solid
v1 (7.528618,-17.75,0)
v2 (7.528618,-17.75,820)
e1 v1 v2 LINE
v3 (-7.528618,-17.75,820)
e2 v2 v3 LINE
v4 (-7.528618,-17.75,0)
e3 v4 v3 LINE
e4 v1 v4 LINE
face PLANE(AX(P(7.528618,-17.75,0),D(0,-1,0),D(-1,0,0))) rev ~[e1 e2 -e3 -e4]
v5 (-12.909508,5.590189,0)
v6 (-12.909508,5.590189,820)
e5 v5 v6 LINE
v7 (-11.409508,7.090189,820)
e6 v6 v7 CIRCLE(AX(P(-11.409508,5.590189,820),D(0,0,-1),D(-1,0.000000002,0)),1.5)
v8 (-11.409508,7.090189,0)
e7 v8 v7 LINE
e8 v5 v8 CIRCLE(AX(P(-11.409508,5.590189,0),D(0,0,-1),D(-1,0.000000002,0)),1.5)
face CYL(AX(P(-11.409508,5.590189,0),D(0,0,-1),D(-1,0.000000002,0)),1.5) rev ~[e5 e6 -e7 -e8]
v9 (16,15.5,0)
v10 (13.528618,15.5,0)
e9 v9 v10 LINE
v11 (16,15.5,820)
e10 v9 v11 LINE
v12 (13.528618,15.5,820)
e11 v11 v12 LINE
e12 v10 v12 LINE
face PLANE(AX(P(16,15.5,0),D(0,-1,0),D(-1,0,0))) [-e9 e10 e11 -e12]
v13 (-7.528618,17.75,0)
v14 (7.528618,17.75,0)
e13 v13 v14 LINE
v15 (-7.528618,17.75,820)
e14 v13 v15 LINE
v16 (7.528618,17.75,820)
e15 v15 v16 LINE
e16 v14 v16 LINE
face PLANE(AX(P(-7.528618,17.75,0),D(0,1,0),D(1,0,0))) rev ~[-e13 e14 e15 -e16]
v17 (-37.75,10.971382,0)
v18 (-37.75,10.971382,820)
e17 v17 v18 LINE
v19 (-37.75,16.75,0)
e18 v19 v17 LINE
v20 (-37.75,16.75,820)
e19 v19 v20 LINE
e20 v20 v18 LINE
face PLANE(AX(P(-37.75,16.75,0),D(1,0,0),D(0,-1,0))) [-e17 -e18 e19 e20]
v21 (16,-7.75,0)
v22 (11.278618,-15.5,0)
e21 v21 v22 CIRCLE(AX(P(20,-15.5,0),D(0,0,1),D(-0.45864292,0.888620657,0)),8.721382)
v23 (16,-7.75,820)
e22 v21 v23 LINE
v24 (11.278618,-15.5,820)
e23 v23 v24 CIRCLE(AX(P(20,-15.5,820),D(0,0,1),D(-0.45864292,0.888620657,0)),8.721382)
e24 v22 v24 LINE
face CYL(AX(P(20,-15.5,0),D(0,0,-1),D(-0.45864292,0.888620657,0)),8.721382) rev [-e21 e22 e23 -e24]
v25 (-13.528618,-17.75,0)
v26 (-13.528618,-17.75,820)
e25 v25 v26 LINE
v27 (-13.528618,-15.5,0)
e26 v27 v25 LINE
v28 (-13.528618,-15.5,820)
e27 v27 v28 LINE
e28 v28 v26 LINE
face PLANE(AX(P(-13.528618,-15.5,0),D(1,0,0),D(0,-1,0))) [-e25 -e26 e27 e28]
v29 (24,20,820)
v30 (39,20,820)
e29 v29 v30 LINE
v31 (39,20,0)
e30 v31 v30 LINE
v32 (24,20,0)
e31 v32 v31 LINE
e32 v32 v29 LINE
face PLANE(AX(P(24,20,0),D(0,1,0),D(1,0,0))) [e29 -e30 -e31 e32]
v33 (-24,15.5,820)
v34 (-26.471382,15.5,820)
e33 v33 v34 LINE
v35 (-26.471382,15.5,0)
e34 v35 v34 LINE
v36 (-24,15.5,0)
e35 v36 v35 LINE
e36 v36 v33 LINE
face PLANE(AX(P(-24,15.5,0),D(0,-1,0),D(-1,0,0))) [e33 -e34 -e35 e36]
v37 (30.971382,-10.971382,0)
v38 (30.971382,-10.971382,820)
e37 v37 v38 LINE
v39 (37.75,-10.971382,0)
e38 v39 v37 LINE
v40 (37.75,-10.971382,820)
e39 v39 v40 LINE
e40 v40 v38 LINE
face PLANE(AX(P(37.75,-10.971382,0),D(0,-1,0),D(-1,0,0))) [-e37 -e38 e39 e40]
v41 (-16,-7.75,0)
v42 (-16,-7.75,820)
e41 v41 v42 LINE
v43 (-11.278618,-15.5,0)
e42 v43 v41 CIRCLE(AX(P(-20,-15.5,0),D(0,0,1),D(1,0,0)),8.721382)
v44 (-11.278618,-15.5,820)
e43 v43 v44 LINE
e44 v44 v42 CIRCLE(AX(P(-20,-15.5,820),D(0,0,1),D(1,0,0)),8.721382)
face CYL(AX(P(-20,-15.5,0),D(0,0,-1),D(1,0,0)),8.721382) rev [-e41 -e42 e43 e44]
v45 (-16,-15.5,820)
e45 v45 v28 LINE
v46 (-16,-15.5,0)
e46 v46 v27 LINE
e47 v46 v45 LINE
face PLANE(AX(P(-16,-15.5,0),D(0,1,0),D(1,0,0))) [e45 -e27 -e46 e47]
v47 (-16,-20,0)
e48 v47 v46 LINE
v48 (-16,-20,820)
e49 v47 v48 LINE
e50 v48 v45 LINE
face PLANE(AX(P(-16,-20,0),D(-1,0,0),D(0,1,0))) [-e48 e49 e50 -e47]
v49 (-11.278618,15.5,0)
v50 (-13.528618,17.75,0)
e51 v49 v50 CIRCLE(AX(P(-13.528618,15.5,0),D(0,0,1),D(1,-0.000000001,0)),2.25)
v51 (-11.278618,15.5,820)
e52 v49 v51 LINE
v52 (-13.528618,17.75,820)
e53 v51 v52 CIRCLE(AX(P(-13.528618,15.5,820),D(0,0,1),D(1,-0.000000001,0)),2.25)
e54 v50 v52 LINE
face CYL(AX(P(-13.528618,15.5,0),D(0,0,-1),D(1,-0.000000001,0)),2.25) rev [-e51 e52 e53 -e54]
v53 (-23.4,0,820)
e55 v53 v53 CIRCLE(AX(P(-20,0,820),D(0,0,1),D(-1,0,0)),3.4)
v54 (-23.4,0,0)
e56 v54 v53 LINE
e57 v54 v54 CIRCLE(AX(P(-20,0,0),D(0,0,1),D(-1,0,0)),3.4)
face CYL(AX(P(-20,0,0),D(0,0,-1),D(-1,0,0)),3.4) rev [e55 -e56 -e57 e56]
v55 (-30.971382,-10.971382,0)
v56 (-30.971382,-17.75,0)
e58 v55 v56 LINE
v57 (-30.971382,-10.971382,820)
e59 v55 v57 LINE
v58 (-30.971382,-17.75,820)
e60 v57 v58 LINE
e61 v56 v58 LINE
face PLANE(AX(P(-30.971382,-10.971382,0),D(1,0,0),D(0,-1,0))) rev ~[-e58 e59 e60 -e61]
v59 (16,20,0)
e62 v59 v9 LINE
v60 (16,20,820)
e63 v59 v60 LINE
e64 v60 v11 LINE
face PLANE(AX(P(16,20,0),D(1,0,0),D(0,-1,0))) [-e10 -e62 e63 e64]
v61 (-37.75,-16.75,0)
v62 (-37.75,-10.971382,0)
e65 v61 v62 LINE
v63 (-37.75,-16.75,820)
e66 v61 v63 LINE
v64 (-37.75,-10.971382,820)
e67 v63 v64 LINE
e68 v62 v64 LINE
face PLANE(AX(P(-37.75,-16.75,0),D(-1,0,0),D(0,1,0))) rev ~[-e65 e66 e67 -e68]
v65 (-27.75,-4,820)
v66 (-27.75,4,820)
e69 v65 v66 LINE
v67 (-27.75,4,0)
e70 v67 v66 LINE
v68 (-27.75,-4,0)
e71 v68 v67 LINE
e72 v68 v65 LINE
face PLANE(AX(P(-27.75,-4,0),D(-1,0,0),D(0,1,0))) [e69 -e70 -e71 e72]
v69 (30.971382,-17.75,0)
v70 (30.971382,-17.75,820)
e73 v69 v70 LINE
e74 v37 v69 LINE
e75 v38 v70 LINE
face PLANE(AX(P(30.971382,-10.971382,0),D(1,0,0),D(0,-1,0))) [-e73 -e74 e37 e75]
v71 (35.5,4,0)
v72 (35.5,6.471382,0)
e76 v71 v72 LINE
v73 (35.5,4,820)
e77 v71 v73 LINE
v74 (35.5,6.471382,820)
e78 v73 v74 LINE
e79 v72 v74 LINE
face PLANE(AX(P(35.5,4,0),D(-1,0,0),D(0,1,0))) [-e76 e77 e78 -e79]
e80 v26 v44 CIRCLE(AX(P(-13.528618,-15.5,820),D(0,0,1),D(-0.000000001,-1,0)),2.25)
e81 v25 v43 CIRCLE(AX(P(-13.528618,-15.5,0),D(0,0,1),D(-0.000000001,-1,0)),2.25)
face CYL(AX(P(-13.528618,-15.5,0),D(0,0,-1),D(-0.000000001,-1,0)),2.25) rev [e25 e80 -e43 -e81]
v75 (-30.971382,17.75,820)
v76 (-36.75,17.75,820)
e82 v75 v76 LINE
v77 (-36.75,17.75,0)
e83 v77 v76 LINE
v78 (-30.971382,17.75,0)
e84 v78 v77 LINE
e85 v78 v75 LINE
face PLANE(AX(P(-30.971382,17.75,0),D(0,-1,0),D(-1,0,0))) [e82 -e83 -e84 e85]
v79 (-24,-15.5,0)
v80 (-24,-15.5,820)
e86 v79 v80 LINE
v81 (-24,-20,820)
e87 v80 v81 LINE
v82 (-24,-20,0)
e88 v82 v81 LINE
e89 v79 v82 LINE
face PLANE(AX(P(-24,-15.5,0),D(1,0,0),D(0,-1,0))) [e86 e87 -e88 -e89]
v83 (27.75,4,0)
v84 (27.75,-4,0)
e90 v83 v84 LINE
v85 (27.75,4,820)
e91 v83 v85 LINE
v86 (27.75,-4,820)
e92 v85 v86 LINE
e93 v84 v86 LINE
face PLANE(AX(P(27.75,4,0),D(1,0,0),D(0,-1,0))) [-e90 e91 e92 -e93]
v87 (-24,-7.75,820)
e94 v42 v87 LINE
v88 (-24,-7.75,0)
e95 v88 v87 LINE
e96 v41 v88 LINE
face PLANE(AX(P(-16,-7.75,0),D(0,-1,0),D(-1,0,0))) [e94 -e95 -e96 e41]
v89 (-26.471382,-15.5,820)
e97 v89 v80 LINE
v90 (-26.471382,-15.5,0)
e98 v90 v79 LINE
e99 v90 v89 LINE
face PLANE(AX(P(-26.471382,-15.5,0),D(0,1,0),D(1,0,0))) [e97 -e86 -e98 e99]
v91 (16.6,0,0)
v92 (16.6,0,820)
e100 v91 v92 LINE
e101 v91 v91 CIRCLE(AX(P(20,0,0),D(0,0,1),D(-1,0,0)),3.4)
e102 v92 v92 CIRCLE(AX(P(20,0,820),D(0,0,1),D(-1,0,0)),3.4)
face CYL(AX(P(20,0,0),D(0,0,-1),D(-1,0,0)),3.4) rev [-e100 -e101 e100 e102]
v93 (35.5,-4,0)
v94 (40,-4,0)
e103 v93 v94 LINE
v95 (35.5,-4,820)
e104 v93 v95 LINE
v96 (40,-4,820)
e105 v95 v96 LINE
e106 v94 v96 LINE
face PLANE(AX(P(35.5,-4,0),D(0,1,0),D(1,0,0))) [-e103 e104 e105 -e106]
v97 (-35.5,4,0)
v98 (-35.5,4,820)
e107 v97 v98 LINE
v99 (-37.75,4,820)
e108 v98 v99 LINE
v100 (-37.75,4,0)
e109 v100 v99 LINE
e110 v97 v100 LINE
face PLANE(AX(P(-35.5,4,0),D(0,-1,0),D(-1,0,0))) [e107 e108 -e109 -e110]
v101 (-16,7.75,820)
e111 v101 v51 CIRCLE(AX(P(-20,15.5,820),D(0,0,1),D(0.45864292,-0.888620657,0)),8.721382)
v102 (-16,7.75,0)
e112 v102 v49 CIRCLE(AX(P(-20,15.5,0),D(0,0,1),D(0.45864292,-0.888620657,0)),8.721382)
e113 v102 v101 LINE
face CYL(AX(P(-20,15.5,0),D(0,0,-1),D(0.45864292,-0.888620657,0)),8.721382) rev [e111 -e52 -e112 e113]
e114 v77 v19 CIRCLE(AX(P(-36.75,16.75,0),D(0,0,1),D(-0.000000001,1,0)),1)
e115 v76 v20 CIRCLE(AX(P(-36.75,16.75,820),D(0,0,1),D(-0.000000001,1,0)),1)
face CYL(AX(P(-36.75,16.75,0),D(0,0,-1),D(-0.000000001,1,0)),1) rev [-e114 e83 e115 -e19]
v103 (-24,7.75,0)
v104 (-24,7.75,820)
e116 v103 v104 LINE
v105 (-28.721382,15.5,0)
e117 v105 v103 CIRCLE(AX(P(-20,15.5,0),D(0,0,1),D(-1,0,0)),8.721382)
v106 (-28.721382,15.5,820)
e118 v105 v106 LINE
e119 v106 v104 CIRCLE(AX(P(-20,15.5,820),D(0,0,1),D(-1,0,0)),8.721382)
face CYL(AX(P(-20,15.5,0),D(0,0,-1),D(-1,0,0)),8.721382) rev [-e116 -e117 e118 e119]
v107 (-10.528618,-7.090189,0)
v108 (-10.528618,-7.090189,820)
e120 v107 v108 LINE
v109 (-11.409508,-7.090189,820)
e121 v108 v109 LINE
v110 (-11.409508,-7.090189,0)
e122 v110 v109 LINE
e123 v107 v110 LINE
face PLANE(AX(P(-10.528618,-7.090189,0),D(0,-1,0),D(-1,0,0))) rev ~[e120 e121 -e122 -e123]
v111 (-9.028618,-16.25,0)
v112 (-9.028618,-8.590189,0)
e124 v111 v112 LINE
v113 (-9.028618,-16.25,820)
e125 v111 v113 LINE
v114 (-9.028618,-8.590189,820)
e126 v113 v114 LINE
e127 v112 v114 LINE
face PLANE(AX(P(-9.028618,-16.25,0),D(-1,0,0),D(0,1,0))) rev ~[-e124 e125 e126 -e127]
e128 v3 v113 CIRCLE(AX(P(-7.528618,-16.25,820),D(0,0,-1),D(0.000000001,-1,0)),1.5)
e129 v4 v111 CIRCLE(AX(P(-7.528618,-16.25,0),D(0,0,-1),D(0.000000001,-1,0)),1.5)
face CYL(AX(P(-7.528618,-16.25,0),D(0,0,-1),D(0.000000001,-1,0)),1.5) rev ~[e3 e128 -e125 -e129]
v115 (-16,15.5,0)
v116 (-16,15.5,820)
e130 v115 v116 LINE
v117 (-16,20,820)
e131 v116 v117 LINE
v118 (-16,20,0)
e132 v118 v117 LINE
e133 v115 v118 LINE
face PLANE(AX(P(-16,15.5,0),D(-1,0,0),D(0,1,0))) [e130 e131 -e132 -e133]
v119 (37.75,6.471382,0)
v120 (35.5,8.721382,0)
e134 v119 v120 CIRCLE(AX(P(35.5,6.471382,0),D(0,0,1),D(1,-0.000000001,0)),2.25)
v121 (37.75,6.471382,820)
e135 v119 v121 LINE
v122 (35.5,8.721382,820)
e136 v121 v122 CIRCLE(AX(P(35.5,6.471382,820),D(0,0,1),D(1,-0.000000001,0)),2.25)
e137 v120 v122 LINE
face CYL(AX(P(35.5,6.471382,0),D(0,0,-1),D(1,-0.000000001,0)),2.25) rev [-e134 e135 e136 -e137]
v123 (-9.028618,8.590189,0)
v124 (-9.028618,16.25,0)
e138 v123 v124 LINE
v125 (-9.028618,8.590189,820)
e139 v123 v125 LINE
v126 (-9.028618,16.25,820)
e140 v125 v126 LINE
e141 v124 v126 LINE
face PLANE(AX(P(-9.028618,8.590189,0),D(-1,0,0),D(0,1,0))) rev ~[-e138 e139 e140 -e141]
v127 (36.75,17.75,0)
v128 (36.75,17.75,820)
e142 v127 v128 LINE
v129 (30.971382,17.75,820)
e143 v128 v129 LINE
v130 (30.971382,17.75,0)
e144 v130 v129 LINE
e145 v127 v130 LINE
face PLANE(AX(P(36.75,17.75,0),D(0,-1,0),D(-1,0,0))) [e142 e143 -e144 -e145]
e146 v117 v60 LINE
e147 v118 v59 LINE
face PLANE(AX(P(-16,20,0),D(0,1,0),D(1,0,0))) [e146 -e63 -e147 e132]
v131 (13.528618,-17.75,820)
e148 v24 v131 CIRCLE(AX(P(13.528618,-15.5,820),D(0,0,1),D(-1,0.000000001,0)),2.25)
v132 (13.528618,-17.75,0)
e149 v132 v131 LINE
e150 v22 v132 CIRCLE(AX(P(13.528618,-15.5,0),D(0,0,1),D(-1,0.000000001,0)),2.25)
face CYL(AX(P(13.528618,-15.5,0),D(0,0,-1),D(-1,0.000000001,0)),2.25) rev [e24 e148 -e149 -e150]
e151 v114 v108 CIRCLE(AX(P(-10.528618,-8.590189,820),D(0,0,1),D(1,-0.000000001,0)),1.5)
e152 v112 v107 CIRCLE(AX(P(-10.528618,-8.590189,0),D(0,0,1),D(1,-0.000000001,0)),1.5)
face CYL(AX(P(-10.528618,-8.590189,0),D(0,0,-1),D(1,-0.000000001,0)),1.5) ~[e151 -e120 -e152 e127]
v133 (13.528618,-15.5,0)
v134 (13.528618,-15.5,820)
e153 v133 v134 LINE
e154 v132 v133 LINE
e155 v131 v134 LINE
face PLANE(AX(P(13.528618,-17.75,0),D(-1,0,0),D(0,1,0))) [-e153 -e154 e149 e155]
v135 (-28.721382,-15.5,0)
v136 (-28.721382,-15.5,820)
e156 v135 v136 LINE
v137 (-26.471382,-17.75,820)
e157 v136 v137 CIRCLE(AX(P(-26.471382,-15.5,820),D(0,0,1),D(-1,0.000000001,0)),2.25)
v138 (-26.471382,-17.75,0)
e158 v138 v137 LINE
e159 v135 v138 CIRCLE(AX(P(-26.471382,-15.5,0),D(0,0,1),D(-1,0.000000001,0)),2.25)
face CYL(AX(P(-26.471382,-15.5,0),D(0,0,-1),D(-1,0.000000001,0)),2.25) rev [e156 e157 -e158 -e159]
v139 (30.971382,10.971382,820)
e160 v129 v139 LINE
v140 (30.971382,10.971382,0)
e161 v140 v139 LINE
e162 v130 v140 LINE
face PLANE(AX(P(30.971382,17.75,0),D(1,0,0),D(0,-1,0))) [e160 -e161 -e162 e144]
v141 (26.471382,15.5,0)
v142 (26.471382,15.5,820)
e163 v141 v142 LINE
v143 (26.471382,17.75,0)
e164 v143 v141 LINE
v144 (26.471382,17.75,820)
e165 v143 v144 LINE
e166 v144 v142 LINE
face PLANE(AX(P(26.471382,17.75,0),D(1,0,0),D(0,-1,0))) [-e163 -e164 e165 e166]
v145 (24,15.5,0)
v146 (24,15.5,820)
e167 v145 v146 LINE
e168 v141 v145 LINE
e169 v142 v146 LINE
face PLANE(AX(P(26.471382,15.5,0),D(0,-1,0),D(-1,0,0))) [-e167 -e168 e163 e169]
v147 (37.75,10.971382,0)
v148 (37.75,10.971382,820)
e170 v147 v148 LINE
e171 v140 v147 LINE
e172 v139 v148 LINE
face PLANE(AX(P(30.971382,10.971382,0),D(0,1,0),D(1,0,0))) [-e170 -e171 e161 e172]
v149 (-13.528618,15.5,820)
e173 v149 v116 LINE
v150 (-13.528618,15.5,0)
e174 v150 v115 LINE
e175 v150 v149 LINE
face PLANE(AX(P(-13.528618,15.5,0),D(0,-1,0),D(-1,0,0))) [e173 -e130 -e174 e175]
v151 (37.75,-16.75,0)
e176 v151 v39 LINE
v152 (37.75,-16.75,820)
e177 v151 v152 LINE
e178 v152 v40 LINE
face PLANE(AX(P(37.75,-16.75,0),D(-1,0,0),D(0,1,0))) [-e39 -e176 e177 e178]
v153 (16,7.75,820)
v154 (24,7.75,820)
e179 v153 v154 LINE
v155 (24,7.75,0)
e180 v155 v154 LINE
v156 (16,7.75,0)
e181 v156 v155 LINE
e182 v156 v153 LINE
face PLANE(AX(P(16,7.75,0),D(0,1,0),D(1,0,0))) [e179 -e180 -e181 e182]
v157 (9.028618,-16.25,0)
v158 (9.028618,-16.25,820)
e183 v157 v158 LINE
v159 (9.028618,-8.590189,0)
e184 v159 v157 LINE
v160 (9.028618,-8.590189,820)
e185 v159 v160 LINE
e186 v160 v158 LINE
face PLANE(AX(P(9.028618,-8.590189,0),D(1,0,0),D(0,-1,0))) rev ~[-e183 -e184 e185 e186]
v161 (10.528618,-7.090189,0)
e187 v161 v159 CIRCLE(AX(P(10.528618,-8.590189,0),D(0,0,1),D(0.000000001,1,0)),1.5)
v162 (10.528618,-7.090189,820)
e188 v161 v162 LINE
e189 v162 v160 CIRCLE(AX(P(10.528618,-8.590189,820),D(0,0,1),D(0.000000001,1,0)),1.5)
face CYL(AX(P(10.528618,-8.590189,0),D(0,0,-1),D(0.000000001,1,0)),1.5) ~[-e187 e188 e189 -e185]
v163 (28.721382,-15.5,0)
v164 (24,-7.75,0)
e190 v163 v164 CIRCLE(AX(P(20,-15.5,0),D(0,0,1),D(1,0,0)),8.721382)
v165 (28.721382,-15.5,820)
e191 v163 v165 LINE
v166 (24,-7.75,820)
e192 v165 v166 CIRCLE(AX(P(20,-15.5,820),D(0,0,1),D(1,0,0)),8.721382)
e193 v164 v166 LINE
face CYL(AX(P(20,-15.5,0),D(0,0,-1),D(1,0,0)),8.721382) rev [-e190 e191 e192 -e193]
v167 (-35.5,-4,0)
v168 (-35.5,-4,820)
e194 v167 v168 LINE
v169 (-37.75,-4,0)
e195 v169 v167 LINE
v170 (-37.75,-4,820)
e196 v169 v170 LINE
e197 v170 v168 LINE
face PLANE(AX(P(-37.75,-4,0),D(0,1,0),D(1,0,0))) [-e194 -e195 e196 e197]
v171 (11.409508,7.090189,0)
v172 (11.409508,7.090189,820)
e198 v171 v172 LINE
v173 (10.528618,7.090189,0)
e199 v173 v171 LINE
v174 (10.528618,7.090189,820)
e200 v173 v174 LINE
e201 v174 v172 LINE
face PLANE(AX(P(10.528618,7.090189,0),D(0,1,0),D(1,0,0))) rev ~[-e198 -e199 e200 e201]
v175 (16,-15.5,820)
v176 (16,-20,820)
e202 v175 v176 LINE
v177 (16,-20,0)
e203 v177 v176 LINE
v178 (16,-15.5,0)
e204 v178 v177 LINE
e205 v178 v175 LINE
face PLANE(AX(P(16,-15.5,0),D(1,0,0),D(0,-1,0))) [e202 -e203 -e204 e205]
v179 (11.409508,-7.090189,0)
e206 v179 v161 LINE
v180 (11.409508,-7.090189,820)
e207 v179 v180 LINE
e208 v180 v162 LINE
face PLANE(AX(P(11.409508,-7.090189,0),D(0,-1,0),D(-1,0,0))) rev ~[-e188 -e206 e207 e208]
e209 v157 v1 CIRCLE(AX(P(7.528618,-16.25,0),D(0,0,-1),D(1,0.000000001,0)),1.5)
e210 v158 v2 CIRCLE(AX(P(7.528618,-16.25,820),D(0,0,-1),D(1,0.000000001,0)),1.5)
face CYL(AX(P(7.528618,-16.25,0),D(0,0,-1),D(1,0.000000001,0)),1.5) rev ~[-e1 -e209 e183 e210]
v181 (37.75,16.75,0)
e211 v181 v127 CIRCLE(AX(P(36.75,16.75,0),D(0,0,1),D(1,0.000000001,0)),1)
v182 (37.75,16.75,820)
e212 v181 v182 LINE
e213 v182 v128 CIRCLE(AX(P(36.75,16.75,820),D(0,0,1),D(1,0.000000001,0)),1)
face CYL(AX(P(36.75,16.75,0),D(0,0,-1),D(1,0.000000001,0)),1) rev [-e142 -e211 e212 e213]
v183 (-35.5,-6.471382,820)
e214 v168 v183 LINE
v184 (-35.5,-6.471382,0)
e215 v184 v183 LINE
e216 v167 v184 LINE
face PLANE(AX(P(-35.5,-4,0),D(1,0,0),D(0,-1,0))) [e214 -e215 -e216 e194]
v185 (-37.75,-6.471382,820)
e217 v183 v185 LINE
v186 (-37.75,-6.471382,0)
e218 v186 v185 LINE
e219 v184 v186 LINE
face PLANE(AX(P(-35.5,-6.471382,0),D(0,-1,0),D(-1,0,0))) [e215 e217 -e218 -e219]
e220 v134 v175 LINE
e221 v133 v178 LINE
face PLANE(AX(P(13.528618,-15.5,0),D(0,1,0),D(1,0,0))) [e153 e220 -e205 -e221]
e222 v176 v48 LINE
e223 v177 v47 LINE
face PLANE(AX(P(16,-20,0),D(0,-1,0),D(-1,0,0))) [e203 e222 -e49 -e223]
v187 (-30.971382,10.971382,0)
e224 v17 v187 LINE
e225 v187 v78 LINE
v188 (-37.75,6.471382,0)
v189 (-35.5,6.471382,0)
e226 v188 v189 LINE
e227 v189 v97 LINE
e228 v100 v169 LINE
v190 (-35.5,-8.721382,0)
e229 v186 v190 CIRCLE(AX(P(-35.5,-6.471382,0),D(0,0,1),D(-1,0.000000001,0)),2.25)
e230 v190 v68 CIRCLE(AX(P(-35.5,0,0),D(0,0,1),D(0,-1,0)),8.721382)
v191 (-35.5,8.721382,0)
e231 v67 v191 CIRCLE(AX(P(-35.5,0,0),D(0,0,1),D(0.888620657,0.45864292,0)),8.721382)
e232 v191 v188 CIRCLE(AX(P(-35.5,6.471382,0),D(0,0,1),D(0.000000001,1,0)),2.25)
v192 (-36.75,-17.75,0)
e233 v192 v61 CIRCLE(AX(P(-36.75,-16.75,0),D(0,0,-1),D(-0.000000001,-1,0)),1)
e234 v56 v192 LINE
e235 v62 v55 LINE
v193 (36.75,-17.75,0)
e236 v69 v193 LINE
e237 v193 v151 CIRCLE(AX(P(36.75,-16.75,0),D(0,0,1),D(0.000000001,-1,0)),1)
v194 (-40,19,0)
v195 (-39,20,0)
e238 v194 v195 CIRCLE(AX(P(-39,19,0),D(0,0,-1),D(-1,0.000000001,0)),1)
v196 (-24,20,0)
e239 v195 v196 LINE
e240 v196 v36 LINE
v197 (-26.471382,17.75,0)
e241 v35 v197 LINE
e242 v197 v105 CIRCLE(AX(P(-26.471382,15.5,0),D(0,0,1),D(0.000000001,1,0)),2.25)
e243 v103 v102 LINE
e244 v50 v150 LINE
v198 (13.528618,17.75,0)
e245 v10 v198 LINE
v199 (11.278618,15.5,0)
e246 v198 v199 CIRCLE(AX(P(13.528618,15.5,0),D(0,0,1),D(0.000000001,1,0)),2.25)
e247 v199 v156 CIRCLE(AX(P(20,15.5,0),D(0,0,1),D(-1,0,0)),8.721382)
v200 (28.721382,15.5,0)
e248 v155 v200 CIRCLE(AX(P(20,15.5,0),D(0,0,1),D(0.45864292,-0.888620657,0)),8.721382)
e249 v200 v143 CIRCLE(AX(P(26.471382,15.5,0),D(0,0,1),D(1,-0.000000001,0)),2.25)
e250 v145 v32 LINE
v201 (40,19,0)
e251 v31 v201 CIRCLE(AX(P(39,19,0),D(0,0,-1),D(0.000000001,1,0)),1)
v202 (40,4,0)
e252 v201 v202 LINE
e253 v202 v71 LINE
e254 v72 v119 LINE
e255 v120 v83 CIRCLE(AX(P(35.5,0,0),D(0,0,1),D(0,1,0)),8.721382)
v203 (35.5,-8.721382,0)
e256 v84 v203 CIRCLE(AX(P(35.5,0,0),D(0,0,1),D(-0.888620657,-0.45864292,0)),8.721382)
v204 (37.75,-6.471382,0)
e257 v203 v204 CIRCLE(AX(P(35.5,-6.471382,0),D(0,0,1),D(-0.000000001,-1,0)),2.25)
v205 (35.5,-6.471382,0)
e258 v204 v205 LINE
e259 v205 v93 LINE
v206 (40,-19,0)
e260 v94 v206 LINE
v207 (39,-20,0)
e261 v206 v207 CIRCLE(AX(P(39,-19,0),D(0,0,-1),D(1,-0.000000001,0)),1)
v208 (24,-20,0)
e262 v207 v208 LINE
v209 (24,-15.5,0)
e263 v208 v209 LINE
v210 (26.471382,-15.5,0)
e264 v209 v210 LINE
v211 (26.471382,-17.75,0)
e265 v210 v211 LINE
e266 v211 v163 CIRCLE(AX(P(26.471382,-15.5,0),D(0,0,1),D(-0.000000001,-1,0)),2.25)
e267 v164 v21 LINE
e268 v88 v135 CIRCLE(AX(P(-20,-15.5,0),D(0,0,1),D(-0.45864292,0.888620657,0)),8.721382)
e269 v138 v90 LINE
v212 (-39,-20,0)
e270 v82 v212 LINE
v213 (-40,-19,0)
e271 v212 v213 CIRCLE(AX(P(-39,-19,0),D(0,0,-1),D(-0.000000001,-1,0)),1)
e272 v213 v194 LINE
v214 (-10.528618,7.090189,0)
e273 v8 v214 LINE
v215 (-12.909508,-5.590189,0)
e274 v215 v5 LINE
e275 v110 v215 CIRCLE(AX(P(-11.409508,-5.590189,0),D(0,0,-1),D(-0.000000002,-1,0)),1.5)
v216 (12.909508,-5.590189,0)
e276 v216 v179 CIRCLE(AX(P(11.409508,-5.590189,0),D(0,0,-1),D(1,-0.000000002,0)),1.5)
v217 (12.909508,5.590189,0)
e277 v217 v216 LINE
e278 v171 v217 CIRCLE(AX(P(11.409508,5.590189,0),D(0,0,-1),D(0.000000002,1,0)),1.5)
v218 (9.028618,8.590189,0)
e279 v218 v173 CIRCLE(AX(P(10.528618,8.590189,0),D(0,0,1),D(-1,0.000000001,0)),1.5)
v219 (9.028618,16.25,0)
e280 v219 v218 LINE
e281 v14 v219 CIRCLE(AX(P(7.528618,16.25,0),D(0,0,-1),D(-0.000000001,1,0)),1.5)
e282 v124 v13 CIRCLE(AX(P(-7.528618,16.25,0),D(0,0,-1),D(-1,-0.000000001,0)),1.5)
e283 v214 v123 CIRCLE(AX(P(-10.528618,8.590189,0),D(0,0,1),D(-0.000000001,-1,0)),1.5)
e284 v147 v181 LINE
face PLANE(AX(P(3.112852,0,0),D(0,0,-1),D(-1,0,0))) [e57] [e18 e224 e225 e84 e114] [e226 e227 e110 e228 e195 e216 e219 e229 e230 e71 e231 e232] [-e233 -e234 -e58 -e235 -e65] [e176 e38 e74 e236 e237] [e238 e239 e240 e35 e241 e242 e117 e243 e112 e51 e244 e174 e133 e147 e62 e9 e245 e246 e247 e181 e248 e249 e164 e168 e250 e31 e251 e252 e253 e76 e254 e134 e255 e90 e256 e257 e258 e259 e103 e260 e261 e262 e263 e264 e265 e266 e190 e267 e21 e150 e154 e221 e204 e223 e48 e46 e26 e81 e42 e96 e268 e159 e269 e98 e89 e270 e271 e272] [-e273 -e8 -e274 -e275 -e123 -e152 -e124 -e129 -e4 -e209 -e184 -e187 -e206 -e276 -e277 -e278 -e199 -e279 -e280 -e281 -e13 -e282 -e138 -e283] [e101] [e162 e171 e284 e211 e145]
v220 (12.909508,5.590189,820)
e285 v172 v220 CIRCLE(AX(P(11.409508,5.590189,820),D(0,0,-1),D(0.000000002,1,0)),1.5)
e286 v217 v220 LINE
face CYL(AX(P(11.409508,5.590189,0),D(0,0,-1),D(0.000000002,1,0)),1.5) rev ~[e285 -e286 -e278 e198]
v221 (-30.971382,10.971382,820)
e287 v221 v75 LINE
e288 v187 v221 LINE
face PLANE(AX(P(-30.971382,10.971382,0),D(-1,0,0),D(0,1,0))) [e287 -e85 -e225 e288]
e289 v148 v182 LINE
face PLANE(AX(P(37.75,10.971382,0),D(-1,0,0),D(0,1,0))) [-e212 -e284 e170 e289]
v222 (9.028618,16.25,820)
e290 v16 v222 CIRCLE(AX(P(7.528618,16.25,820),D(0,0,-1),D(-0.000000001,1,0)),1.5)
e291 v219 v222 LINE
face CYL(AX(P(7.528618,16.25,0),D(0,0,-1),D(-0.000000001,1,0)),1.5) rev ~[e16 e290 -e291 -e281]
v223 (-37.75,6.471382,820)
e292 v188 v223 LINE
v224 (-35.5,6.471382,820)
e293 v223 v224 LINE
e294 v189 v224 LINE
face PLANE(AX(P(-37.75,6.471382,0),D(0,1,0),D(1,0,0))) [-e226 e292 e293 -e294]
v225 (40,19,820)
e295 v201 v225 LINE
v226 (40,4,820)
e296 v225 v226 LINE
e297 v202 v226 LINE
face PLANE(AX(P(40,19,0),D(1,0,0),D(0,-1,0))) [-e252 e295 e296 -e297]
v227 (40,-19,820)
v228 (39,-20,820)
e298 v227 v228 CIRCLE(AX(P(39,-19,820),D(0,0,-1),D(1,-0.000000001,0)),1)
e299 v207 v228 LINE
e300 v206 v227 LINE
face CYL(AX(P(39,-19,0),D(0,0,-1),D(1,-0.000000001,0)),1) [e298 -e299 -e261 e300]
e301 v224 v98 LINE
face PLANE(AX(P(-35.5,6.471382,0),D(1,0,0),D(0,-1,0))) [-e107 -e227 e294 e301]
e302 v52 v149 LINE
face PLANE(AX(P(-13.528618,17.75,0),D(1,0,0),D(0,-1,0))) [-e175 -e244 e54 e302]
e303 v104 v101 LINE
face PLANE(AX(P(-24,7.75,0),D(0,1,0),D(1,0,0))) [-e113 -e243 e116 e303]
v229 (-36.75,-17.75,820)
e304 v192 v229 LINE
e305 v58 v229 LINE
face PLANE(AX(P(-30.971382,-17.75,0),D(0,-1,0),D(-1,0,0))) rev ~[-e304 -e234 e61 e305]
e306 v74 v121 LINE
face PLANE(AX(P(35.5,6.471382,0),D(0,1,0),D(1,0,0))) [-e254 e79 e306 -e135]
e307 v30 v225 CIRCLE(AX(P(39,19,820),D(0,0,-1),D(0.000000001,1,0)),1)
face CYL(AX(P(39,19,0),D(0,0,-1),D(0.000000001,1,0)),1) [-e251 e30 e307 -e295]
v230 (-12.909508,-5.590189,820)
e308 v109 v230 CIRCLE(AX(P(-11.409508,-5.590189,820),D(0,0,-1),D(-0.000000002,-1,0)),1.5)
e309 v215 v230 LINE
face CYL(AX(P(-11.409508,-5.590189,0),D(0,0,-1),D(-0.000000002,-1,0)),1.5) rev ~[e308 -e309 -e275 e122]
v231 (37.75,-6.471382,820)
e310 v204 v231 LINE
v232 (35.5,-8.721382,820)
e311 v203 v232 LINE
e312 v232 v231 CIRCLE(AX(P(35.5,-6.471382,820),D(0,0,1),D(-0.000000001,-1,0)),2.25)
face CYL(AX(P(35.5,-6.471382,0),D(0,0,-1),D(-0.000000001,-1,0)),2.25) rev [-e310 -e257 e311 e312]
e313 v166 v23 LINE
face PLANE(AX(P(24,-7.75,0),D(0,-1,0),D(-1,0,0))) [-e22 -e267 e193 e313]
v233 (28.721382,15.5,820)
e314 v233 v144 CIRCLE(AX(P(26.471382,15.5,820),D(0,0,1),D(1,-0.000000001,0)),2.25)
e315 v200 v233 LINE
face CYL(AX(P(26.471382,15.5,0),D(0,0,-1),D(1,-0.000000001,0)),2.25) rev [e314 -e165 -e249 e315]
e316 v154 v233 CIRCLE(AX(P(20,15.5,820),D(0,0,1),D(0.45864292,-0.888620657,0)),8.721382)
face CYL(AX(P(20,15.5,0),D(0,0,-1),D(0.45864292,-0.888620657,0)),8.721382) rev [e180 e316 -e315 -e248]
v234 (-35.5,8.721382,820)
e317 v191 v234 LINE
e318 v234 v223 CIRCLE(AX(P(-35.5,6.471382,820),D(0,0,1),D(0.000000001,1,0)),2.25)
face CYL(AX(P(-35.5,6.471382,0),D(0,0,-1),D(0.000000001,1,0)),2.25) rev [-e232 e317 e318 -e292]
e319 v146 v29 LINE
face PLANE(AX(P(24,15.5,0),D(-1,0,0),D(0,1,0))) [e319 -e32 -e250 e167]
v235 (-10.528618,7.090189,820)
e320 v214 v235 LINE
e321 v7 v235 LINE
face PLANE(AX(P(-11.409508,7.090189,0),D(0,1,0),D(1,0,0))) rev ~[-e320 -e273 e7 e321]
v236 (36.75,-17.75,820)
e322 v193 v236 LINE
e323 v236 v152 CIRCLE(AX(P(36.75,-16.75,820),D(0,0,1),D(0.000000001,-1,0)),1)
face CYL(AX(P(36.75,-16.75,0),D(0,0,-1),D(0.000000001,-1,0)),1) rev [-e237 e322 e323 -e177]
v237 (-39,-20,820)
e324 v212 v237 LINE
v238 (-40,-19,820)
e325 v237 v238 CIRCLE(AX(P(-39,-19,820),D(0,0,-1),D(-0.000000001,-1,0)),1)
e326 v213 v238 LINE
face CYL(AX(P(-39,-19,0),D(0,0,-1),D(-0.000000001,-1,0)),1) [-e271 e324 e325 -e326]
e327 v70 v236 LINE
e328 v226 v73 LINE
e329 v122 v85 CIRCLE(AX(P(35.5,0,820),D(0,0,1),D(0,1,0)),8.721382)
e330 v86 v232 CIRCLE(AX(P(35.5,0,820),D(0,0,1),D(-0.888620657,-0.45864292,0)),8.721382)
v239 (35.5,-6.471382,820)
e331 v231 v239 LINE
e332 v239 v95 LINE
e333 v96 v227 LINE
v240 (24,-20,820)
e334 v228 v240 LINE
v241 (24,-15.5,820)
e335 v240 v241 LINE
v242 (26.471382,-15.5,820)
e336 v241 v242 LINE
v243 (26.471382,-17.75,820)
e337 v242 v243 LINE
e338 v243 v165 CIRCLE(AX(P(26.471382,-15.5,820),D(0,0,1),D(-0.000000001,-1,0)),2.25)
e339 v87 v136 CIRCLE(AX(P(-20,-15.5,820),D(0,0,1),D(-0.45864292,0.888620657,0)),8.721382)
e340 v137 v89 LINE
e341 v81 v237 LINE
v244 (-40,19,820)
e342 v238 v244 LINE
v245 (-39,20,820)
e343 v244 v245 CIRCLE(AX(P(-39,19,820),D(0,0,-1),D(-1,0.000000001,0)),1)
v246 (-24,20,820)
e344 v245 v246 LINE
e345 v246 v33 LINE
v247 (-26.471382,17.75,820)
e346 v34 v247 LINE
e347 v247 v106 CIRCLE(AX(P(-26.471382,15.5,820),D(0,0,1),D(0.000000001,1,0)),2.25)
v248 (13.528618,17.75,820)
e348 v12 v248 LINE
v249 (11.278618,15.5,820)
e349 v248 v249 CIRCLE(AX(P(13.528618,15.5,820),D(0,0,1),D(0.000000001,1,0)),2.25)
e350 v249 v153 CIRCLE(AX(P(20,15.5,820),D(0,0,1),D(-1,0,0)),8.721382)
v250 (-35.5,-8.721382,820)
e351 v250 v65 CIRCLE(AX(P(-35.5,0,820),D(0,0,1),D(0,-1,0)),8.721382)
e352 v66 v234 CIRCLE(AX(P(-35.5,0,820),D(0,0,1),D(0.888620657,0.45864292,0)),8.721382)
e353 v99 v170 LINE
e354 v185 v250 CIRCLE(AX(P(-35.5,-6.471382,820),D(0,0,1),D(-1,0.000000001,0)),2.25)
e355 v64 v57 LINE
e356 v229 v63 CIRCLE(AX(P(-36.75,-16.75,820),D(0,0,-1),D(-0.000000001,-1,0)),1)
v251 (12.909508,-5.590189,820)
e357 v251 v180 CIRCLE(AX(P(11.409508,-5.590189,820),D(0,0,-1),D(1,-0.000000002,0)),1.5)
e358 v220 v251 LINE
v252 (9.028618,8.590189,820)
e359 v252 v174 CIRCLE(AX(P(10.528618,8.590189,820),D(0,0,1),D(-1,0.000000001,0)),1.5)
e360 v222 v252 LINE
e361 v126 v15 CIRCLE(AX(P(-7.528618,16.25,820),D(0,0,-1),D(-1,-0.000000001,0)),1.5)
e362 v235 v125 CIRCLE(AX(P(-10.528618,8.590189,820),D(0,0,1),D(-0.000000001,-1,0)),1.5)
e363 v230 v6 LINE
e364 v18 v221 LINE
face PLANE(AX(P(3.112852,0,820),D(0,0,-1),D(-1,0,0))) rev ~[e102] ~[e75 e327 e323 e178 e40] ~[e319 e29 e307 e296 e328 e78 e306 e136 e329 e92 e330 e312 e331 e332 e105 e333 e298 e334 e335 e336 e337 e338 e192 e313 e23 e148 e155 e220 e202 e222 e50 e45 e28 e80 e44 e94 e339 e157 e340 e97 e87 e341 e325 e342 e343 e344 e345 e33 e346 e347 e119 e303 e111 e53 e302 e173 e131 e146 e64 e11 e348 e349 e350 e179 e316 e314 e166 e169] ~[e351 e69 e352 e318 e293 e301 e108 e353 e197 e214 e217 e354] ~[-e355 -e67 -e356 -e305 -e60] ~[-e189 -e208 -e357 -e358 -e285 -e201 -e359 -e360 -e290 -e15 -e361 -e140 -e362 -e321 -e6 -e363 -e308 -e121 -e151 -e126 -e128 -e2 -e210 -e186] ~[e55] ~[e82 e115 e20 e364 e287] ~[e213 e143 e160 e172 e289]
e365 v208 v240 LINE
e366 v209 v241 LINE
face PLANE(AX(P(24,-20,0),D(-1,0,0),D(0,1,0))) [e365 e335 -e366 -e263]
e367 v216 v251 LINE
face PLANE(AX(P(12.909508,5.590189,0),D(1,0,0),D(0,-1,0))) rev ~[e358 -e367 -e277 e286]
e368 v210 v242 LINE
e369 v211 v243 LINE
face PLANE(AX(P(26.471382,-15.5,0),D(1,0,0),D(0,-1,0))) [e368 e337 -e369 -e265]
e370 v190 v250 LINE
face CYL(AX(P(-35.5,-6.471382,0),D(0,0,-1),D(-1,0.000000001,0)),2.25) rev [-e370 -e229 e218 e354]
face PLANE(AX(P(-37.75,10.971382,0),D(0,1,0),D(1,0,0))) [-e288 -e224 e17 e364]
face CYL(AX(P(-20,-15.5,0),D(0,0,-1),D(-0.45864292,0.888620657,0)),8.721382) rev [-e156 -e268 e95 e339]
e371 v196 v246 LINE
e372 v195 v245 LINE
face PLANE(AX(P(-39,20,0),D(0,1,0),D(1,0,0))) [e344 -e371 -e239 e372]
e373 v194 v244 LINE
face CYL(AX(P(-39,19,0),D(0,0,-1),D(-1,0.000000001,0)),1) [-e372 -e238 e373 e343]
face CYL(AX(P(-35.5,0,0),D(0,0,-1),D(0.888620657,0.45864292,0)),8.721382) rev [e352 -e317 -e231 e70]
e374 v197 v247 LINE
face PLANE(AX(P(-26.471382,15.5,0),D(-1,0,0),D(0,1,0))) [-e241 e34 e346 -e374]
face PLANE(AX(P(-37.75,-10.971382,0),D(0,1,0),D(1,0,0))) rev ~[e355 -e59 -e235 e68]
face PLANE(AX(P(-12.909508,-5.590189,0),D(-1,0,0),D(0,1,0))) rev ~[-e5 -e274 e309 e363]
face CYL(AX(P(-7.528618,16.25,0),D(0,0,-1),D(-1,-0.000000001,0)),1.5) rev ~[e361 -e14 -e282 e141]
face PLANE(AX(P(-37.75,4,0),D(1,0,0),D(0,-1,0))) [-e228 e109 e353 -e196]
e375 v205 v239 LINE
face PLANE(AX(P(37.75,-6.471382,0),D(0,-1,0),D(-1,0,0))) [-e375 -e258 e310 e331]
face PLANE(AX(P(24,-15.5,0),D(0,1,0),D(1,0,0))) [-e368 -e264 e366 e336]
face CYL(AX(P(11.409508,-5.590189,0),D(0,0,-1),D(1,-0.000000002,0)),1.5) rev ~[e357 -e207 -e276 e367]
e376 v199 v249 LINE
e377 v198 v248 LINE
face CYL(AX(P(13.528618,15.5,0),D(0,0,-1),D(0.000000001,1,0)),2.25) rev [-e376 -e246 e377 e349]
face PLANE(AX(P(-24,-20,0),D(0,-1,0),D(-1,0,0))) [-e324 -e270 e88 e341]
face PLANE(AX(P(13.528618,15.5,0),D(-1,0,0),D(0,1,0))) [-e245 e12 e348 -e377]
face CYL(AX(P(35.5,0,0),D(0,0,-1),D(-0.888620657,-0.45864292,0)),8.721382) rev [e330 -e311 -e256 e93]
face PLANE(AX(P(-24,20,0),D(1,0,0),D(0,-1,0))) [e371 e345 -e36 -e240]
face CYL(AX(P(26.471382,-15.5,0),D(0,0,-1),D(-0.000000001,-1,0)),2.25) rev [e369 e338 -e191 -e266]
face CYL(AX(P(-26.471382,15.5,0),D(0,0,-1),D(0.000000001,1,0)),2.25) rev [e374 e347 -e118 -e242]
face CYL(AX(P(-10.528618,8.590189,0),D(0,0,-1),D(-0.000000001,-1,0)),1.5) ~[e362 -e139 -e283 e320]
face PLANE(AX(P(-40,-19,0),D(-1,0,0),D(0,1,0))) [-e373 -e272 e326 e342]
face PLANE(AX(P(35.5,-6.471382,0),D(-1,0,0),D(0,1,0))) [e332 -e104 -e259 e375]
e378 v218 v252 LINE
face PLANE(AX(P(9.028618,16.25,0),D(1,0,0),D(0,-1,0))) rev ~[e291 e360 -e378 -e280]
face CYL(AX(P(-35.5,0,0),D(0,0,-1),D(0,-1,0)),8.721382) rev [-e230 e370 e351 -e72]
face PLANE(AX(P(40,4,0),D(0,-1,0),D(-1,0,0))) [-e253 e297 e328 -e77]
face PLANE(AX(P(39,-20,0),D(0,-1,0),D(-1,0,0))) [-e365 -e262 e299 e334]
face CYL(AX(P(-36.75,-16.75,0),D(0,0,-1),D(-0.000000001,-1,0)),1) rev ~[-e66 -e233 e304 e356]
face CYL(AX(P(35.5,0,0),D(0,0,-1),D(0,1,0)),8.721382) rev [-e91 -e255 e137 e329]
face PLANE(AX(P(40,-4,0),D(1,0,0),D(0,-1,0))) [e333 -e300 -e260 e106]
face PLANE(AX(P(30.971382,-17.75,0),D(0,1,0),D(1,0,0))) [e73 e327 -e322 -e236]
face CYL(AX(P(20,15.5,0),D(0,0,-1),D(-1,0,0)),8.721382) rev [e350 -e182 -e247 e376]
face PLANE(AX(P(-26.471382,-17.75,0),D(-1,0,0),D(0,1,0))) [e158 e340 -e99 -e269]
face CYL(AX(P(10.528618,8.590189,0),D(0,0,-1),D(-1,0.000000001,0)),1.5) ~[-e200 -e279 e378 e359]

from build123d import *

# Parameters (mm, degrees)
SZKIC1_R                    = 3.4
DODANIE_WYCI_GNI_CIE1_DEPTH = 820


with BuildPart() as part:
    # Szkic1 → Dodanie-wyciągnięcie1 (new body)
    with BuildSketch(Plane.XY):
        with BuildLine():
            Line((-40, -19), (-40, 19))
            ThreePointArc((-40, 19), (-39.707106781, 19.707106781), (-39, 20))
            Line((-39, 20), (-24, 20))
            Line((-24, 20), (-24, 15.5))
            Line((-24, 15.5), (-26.471381771, 15.5))
            Line((-26.471381771, 15.5), (-26.471381771, 17.75))
            ThreePointArc((-26.471381771, 17.75), (-28.062372029, 17.090990258), (-28.721381771, 15.5))
            ThreePointArc((-28.721381771, 15.5), (-27.448087912, 10.962546258), (-24, 7.75))
            Line((-24, 7.75), (-16, 7.75))
            ThreePointArc((-16, 7.75), (-12.551912088, 10.962546258), (-11.278618229, 15.5))
            ThreePointArc((-11.278618229, 15.5), (-11.937627971, 17.090990258), (-13.528618229, 17.75))
            Line((-13.528618229, 17.75), (-13.528618229, 15.5))
            Line((-13.528618229, 15.5), (-16, 15.5))
            Line((-16, 15.5), (-16, 20))
            Line((-16, 20), (13.528618229, 20))
            Line((13.528618229, 20), (16, 20))
            Line((16, 20), (16, 15.5))
            Line((16, 15.5), (13.528618229, 15.5))
            Line((13.528618229, 15.5), (13.528618229, 17.75))
            ThreePointArc((13.528618229, 17.75), (11.937627971, 17.090990258), (11.278618229, 15.5))
            ThreePointArc((11.278618229, 15.5), (12.551912088, 10.962546258), (16, 7.75))
            Line((16, 7.75), (24, 7.75))
            ThreePointArc((24, 7.75), (27.448087912, 10.962546258), (28.721381771, 15.5))
            ThreePointArc((28.721381771, 15.5), (28.062372029, 17.090990258), (26.471381771, 17.75))
            Line((26.471381771, 17.75), (26.471381771, 15.5))
            Line((26.471381771, 15.5), (24, 15.5))
            Line((24, 15.5), (24, 20))
            Line((24, 20), (39, 20))
            ThreePointArc((39, 20), (39.707106781, 19.707106781), (40, 19))
            Line((40, 19), (40, 4))
            Line((40, 4), (35.5, 4))
            Line((35.5, 4), (35.5, 6.471381771))
            Line((35.5, 6.471381771), (37.75, 6.471381771))
            ThreePointArc((37.75, 6.471381771), (37.090990258, 8.062372029), (35.5, 8.721381771))
            ThreePointArc((35.5, 8.721381771), (30.962546258, 7.448087912), (27.75, 4))
            Line((27.75, 4), (27.75, -4))
            ThreePointArc((27.75, -4), (30.962546258, -7.448087912), (35.5, -8.721381771))
            ThreePointArc((35.5, -8.721381771), (37.090990258, -8.062372029), (37.75, -6.471381771))
            Line((37.75, -6.471381771), (35.5, -6.471381771))
            Line((35.5, -6.471381771), (35.5, -4))
            Line((35.5, -4), (40, -4))
            Line((40, -4), (40, -19))
            ThreePointArc((40, -19), (39.707106781, -19.707106781), (39, -20))
            Line((39, -20), (24, -20))
            Line((24, -20), (24, -15.5))
            Line((24, -15.5), (26.471381771, -15.5))
            Line((26.471381771, -15.5), (26.471381771, -17.75))
            ThreePointArc((26.471381771, -17.75), (28.062372029, -17.090990258), (28.721381771, -15.5))
            ThreePointArc((28.721381771, -15.5), (27.448087912, -10.962546258), (24, -7.75))
            Line((24, -7.75), (16, -7.75))
            ThreePointArc((16, -7.75), (12.551912088, -10.962546258), (11.278618229, -15.5))
            ThreePointArc((11.278618229, -15.5), (11.937627971, -17.090990258), (13.528618229, -17.75))
            Line((13.528618229, -17.75), (13.528618229, -15.5))
            Line((13.528618229, -15.5), (16, -15.5))
            Line((16, -15.5), (16, -20))
            Line((16, -20), (-16, -20))
            Line((-16, -20), (-16, -15.5))
            Line((-16, -15.5), (-13.528618229, -15.5))
            Line((-13.528618229, -15.5), (-13.528618229, -17.75))
            ThreePointArc((-13.528618229, -17.75), (-11.937627971, -17.090990258), (-11.278618229, -15.5))
            ThreePointArc((-11.278618229, -15.5), (-12.551912088, -10.962546258), (-16, -7.75))
            Line((-16, -7.75), (-24, -7.75))
            ThreePointArc((-24, -7.75), (-27.448087912, -10.962546258), (-28.721381771, -15.5))
            ThreePointArc((-28.721381771, -15.5), (-28.062372029, -17.090990258), (-26.471381771, -17.75))
            Line((-26.471381771, -17.75), (-26.471381771, -15.5))
            Line((-26.471381771, -15.5), (-24, -15.5))
            Line((-24, -15.5), (-24, -20))
            Line((-24, -20), (-39, -20))
            ThreePointArc((-39, -20), (-39.707106781, -19.707106781), (-40, -19))
        make_face()
        with Locations(Location((-20, 0, 0), (0, 0, 180))):
            Circle(SZKIC1_R, mode=Mode.SUBTRACT)
        with Locations(Location((20, 0, 0), (0, 0, 180))):
            Circle(SZKIC1_R, mode=Mode.SUBTRACT)
        with BuildLine():
            Line((30.971381771, -17.75), (36.75, -17.75))
            ThreePointArc((36.75, -17.75), (37.457106781, -17.457106781), (37.75, -16.75))
            Line((37.75, -16.75), (37.75, -10.971381771))
            Line((37.75, -10.971381771), (30.971381771, -10.971381771))
            Line((30.971381771, -10.971381771), (30.971381771, -17.75))
        make_face(mode=Mode.SUBTRACT)
        with BuildLine():
            Line((-35.5, -6.471381771), (-37.75, -6.471381771))
            ThreePointArc((-37.75, -6.471381771), (-37.090990258, -8.062372029), (-35.5, -8.721381771))
            ThreePointArc((-35.5, -8.721381771), (-30.962546258, -7.448087912), (-27.75, -4))
            Line((-27.75, -4), (-27.75, 4))
            ThreePointArc((-27.75, 4), (-30.962546258, 7.448087912), (-35.5, 8.721381771))
            ThreePointArc((-35.5, 8.721381771), (-37.090990258, 8.062372029), (-37.75, 6.471381771))
            Line((-37.75, 6.471381771), (-35.5, 6.471381771))
            Line((-35.5, 6.471381771), (-35.5, 4))
            Line((-35.5, 4), (-37.75, 4))
            Line((-37.75, 4), (-37.75, -4))
            Line((-37.75, -4), (-35.5, -4))
            Line((-35.5, -4), (-35.5, -6.471381771))
        make_face(mode=Mode.SUBTRACT)
        with BuildLine():
            Line((10.528618229, 7.090188806), (11.40950808, 7.090188806))
            ThreePointArc((11.40950808, 7.090188806), (12.470168251, 6.650848977), (12.90950808, 5.590188806))
            Line((12.90950808, 5.590188806), (12.90950808, -5.590188806))
            ThreePointArc((12.90950808, -5.590188806), (12.470168251, -6.650848977), (11.40950808, -7.090188806))
            Line((11.40950808, -7.090188806), (10.528618229, -7.090188806))
            ThreePointArc((10.528618229, -7.090188806), (9.467958057, -7.529528634), (9.028618229, -8.590188806))
            Line((9.028618229, -8.590188806), (9.028618229, -16.25))
            ThreePointArc((9.028618229, -16.25), (8.589278401, -17.310660172), (7.528618229, -17.75))
            Line((7.528618229, -17.75), (-7.528618229, -17.75))
            ThreePointArc((-7.528618229, -17.75), (-8.589278401, -17.310660172), (-9.028618229, -16.25))
            Line((-9.028618229, -16.25), (-9.028618229, -8.590188806))
            ThreePointArc((-9.028618229, -8.590188806), (-9.467958057, -7.529528634), (-10.528618229, -7.090188806))
            Line((-10.528618229, -7.090188806), (-11.40950808, -7.090188806))
            ThreePointArc((-11.40950808, -7.090188806), (-12.470168251, -6.650848977), (-12.90950808, -5.590188806))
            Line((-12.90950808, -5.590188806), (-12.90950808, 5.590188806))
            ThreePointArc((-12.90950808, 5.590188806), (-12.470168251, 6.650848977), (-11.40950808, 7.090188806))
            Line((-11.40950808, 7.090188806), (-10.528618229, 7.090188806))
            ThreePointArc((-10.528618229, 7.090188806), (-9.467958057, 7.529528634), (-9.028618229, 8.590188806))
            Line((-9.028618229, 8.590188806), (-9.028618229, 16.25))
            ThreePointArc((-9.028618229, 16.25), (-8.589278401, 17.310660172), (-7.528618229, 17.75))
            Line((-7.528618229, 17.75), (7.528618229, 17.75))
            ThreePointArc((7.528618229, 17.75), (8.589278401, 17.310660172), (9.028618229, 16.25))
            Line((9.028618229, 16.25), (9.028618229, 8.590188806))
            ThreePointArc((9.028618229, 8.590188806), (9.467958057, 7.529528634), (10.528618229, 7.090188806))
        make_face(mode=Mode.SUBTRACT)
        with BuildLine():
            Line((30.971381771, 10.971381771), (37.75, 10.971381771))
            Line((37.75, 10.971381771), (37.75, 16.75))
            ThreePointArc((37.75, 16.75), (37.457106781, 17.457106781), (36.75, 17.75))
            Line((36.75, 17.75), (30.971381771, 17.75))
            Line((30.971381771, 17.75), (30.971381771, 10.971381771))
        make_face(mode=Mode.SUBTRACT)
        with BuildLine():
            Line((-30.971381771, -10.971381771), (-30.971381771, -17.75))
            Line((-30.971381771, -17.75), (-36.75, -17.75))
            ThreePointArc((-36.75, -17.75), (-37.457106781, -17.457106781), (-37.75, -16.75))
            Line((-37.75, -16.75), (-37.75, -10.971381771))
            Line((-37.75, -10.971381771), (-30.971381771, -10.971381771))
        make_face(mode=Mode.SUBTRACT)
        with BuildLine():
            Line((-30.971381771, 17.75), (-36.75, 17.75))
            ThreePointArc((-36.75, 17.75), (-37.457106781, 17.457106781), (-37.75, 16.75))
            Line((-37.75, 16.75), (-37.75, 10.971381771))
            Line((-37.75, 10.971381771), (-30.971381771, 10.971381771))
            Line((-30.971381771, 10.971381771), (-30.971381771, 17.75))
        make_face(mode=Mode.SUBTRACT)
    extrude(amount=DODANIE_WYCI_GNI_CIE1_DEPTH)


solid = part.part
